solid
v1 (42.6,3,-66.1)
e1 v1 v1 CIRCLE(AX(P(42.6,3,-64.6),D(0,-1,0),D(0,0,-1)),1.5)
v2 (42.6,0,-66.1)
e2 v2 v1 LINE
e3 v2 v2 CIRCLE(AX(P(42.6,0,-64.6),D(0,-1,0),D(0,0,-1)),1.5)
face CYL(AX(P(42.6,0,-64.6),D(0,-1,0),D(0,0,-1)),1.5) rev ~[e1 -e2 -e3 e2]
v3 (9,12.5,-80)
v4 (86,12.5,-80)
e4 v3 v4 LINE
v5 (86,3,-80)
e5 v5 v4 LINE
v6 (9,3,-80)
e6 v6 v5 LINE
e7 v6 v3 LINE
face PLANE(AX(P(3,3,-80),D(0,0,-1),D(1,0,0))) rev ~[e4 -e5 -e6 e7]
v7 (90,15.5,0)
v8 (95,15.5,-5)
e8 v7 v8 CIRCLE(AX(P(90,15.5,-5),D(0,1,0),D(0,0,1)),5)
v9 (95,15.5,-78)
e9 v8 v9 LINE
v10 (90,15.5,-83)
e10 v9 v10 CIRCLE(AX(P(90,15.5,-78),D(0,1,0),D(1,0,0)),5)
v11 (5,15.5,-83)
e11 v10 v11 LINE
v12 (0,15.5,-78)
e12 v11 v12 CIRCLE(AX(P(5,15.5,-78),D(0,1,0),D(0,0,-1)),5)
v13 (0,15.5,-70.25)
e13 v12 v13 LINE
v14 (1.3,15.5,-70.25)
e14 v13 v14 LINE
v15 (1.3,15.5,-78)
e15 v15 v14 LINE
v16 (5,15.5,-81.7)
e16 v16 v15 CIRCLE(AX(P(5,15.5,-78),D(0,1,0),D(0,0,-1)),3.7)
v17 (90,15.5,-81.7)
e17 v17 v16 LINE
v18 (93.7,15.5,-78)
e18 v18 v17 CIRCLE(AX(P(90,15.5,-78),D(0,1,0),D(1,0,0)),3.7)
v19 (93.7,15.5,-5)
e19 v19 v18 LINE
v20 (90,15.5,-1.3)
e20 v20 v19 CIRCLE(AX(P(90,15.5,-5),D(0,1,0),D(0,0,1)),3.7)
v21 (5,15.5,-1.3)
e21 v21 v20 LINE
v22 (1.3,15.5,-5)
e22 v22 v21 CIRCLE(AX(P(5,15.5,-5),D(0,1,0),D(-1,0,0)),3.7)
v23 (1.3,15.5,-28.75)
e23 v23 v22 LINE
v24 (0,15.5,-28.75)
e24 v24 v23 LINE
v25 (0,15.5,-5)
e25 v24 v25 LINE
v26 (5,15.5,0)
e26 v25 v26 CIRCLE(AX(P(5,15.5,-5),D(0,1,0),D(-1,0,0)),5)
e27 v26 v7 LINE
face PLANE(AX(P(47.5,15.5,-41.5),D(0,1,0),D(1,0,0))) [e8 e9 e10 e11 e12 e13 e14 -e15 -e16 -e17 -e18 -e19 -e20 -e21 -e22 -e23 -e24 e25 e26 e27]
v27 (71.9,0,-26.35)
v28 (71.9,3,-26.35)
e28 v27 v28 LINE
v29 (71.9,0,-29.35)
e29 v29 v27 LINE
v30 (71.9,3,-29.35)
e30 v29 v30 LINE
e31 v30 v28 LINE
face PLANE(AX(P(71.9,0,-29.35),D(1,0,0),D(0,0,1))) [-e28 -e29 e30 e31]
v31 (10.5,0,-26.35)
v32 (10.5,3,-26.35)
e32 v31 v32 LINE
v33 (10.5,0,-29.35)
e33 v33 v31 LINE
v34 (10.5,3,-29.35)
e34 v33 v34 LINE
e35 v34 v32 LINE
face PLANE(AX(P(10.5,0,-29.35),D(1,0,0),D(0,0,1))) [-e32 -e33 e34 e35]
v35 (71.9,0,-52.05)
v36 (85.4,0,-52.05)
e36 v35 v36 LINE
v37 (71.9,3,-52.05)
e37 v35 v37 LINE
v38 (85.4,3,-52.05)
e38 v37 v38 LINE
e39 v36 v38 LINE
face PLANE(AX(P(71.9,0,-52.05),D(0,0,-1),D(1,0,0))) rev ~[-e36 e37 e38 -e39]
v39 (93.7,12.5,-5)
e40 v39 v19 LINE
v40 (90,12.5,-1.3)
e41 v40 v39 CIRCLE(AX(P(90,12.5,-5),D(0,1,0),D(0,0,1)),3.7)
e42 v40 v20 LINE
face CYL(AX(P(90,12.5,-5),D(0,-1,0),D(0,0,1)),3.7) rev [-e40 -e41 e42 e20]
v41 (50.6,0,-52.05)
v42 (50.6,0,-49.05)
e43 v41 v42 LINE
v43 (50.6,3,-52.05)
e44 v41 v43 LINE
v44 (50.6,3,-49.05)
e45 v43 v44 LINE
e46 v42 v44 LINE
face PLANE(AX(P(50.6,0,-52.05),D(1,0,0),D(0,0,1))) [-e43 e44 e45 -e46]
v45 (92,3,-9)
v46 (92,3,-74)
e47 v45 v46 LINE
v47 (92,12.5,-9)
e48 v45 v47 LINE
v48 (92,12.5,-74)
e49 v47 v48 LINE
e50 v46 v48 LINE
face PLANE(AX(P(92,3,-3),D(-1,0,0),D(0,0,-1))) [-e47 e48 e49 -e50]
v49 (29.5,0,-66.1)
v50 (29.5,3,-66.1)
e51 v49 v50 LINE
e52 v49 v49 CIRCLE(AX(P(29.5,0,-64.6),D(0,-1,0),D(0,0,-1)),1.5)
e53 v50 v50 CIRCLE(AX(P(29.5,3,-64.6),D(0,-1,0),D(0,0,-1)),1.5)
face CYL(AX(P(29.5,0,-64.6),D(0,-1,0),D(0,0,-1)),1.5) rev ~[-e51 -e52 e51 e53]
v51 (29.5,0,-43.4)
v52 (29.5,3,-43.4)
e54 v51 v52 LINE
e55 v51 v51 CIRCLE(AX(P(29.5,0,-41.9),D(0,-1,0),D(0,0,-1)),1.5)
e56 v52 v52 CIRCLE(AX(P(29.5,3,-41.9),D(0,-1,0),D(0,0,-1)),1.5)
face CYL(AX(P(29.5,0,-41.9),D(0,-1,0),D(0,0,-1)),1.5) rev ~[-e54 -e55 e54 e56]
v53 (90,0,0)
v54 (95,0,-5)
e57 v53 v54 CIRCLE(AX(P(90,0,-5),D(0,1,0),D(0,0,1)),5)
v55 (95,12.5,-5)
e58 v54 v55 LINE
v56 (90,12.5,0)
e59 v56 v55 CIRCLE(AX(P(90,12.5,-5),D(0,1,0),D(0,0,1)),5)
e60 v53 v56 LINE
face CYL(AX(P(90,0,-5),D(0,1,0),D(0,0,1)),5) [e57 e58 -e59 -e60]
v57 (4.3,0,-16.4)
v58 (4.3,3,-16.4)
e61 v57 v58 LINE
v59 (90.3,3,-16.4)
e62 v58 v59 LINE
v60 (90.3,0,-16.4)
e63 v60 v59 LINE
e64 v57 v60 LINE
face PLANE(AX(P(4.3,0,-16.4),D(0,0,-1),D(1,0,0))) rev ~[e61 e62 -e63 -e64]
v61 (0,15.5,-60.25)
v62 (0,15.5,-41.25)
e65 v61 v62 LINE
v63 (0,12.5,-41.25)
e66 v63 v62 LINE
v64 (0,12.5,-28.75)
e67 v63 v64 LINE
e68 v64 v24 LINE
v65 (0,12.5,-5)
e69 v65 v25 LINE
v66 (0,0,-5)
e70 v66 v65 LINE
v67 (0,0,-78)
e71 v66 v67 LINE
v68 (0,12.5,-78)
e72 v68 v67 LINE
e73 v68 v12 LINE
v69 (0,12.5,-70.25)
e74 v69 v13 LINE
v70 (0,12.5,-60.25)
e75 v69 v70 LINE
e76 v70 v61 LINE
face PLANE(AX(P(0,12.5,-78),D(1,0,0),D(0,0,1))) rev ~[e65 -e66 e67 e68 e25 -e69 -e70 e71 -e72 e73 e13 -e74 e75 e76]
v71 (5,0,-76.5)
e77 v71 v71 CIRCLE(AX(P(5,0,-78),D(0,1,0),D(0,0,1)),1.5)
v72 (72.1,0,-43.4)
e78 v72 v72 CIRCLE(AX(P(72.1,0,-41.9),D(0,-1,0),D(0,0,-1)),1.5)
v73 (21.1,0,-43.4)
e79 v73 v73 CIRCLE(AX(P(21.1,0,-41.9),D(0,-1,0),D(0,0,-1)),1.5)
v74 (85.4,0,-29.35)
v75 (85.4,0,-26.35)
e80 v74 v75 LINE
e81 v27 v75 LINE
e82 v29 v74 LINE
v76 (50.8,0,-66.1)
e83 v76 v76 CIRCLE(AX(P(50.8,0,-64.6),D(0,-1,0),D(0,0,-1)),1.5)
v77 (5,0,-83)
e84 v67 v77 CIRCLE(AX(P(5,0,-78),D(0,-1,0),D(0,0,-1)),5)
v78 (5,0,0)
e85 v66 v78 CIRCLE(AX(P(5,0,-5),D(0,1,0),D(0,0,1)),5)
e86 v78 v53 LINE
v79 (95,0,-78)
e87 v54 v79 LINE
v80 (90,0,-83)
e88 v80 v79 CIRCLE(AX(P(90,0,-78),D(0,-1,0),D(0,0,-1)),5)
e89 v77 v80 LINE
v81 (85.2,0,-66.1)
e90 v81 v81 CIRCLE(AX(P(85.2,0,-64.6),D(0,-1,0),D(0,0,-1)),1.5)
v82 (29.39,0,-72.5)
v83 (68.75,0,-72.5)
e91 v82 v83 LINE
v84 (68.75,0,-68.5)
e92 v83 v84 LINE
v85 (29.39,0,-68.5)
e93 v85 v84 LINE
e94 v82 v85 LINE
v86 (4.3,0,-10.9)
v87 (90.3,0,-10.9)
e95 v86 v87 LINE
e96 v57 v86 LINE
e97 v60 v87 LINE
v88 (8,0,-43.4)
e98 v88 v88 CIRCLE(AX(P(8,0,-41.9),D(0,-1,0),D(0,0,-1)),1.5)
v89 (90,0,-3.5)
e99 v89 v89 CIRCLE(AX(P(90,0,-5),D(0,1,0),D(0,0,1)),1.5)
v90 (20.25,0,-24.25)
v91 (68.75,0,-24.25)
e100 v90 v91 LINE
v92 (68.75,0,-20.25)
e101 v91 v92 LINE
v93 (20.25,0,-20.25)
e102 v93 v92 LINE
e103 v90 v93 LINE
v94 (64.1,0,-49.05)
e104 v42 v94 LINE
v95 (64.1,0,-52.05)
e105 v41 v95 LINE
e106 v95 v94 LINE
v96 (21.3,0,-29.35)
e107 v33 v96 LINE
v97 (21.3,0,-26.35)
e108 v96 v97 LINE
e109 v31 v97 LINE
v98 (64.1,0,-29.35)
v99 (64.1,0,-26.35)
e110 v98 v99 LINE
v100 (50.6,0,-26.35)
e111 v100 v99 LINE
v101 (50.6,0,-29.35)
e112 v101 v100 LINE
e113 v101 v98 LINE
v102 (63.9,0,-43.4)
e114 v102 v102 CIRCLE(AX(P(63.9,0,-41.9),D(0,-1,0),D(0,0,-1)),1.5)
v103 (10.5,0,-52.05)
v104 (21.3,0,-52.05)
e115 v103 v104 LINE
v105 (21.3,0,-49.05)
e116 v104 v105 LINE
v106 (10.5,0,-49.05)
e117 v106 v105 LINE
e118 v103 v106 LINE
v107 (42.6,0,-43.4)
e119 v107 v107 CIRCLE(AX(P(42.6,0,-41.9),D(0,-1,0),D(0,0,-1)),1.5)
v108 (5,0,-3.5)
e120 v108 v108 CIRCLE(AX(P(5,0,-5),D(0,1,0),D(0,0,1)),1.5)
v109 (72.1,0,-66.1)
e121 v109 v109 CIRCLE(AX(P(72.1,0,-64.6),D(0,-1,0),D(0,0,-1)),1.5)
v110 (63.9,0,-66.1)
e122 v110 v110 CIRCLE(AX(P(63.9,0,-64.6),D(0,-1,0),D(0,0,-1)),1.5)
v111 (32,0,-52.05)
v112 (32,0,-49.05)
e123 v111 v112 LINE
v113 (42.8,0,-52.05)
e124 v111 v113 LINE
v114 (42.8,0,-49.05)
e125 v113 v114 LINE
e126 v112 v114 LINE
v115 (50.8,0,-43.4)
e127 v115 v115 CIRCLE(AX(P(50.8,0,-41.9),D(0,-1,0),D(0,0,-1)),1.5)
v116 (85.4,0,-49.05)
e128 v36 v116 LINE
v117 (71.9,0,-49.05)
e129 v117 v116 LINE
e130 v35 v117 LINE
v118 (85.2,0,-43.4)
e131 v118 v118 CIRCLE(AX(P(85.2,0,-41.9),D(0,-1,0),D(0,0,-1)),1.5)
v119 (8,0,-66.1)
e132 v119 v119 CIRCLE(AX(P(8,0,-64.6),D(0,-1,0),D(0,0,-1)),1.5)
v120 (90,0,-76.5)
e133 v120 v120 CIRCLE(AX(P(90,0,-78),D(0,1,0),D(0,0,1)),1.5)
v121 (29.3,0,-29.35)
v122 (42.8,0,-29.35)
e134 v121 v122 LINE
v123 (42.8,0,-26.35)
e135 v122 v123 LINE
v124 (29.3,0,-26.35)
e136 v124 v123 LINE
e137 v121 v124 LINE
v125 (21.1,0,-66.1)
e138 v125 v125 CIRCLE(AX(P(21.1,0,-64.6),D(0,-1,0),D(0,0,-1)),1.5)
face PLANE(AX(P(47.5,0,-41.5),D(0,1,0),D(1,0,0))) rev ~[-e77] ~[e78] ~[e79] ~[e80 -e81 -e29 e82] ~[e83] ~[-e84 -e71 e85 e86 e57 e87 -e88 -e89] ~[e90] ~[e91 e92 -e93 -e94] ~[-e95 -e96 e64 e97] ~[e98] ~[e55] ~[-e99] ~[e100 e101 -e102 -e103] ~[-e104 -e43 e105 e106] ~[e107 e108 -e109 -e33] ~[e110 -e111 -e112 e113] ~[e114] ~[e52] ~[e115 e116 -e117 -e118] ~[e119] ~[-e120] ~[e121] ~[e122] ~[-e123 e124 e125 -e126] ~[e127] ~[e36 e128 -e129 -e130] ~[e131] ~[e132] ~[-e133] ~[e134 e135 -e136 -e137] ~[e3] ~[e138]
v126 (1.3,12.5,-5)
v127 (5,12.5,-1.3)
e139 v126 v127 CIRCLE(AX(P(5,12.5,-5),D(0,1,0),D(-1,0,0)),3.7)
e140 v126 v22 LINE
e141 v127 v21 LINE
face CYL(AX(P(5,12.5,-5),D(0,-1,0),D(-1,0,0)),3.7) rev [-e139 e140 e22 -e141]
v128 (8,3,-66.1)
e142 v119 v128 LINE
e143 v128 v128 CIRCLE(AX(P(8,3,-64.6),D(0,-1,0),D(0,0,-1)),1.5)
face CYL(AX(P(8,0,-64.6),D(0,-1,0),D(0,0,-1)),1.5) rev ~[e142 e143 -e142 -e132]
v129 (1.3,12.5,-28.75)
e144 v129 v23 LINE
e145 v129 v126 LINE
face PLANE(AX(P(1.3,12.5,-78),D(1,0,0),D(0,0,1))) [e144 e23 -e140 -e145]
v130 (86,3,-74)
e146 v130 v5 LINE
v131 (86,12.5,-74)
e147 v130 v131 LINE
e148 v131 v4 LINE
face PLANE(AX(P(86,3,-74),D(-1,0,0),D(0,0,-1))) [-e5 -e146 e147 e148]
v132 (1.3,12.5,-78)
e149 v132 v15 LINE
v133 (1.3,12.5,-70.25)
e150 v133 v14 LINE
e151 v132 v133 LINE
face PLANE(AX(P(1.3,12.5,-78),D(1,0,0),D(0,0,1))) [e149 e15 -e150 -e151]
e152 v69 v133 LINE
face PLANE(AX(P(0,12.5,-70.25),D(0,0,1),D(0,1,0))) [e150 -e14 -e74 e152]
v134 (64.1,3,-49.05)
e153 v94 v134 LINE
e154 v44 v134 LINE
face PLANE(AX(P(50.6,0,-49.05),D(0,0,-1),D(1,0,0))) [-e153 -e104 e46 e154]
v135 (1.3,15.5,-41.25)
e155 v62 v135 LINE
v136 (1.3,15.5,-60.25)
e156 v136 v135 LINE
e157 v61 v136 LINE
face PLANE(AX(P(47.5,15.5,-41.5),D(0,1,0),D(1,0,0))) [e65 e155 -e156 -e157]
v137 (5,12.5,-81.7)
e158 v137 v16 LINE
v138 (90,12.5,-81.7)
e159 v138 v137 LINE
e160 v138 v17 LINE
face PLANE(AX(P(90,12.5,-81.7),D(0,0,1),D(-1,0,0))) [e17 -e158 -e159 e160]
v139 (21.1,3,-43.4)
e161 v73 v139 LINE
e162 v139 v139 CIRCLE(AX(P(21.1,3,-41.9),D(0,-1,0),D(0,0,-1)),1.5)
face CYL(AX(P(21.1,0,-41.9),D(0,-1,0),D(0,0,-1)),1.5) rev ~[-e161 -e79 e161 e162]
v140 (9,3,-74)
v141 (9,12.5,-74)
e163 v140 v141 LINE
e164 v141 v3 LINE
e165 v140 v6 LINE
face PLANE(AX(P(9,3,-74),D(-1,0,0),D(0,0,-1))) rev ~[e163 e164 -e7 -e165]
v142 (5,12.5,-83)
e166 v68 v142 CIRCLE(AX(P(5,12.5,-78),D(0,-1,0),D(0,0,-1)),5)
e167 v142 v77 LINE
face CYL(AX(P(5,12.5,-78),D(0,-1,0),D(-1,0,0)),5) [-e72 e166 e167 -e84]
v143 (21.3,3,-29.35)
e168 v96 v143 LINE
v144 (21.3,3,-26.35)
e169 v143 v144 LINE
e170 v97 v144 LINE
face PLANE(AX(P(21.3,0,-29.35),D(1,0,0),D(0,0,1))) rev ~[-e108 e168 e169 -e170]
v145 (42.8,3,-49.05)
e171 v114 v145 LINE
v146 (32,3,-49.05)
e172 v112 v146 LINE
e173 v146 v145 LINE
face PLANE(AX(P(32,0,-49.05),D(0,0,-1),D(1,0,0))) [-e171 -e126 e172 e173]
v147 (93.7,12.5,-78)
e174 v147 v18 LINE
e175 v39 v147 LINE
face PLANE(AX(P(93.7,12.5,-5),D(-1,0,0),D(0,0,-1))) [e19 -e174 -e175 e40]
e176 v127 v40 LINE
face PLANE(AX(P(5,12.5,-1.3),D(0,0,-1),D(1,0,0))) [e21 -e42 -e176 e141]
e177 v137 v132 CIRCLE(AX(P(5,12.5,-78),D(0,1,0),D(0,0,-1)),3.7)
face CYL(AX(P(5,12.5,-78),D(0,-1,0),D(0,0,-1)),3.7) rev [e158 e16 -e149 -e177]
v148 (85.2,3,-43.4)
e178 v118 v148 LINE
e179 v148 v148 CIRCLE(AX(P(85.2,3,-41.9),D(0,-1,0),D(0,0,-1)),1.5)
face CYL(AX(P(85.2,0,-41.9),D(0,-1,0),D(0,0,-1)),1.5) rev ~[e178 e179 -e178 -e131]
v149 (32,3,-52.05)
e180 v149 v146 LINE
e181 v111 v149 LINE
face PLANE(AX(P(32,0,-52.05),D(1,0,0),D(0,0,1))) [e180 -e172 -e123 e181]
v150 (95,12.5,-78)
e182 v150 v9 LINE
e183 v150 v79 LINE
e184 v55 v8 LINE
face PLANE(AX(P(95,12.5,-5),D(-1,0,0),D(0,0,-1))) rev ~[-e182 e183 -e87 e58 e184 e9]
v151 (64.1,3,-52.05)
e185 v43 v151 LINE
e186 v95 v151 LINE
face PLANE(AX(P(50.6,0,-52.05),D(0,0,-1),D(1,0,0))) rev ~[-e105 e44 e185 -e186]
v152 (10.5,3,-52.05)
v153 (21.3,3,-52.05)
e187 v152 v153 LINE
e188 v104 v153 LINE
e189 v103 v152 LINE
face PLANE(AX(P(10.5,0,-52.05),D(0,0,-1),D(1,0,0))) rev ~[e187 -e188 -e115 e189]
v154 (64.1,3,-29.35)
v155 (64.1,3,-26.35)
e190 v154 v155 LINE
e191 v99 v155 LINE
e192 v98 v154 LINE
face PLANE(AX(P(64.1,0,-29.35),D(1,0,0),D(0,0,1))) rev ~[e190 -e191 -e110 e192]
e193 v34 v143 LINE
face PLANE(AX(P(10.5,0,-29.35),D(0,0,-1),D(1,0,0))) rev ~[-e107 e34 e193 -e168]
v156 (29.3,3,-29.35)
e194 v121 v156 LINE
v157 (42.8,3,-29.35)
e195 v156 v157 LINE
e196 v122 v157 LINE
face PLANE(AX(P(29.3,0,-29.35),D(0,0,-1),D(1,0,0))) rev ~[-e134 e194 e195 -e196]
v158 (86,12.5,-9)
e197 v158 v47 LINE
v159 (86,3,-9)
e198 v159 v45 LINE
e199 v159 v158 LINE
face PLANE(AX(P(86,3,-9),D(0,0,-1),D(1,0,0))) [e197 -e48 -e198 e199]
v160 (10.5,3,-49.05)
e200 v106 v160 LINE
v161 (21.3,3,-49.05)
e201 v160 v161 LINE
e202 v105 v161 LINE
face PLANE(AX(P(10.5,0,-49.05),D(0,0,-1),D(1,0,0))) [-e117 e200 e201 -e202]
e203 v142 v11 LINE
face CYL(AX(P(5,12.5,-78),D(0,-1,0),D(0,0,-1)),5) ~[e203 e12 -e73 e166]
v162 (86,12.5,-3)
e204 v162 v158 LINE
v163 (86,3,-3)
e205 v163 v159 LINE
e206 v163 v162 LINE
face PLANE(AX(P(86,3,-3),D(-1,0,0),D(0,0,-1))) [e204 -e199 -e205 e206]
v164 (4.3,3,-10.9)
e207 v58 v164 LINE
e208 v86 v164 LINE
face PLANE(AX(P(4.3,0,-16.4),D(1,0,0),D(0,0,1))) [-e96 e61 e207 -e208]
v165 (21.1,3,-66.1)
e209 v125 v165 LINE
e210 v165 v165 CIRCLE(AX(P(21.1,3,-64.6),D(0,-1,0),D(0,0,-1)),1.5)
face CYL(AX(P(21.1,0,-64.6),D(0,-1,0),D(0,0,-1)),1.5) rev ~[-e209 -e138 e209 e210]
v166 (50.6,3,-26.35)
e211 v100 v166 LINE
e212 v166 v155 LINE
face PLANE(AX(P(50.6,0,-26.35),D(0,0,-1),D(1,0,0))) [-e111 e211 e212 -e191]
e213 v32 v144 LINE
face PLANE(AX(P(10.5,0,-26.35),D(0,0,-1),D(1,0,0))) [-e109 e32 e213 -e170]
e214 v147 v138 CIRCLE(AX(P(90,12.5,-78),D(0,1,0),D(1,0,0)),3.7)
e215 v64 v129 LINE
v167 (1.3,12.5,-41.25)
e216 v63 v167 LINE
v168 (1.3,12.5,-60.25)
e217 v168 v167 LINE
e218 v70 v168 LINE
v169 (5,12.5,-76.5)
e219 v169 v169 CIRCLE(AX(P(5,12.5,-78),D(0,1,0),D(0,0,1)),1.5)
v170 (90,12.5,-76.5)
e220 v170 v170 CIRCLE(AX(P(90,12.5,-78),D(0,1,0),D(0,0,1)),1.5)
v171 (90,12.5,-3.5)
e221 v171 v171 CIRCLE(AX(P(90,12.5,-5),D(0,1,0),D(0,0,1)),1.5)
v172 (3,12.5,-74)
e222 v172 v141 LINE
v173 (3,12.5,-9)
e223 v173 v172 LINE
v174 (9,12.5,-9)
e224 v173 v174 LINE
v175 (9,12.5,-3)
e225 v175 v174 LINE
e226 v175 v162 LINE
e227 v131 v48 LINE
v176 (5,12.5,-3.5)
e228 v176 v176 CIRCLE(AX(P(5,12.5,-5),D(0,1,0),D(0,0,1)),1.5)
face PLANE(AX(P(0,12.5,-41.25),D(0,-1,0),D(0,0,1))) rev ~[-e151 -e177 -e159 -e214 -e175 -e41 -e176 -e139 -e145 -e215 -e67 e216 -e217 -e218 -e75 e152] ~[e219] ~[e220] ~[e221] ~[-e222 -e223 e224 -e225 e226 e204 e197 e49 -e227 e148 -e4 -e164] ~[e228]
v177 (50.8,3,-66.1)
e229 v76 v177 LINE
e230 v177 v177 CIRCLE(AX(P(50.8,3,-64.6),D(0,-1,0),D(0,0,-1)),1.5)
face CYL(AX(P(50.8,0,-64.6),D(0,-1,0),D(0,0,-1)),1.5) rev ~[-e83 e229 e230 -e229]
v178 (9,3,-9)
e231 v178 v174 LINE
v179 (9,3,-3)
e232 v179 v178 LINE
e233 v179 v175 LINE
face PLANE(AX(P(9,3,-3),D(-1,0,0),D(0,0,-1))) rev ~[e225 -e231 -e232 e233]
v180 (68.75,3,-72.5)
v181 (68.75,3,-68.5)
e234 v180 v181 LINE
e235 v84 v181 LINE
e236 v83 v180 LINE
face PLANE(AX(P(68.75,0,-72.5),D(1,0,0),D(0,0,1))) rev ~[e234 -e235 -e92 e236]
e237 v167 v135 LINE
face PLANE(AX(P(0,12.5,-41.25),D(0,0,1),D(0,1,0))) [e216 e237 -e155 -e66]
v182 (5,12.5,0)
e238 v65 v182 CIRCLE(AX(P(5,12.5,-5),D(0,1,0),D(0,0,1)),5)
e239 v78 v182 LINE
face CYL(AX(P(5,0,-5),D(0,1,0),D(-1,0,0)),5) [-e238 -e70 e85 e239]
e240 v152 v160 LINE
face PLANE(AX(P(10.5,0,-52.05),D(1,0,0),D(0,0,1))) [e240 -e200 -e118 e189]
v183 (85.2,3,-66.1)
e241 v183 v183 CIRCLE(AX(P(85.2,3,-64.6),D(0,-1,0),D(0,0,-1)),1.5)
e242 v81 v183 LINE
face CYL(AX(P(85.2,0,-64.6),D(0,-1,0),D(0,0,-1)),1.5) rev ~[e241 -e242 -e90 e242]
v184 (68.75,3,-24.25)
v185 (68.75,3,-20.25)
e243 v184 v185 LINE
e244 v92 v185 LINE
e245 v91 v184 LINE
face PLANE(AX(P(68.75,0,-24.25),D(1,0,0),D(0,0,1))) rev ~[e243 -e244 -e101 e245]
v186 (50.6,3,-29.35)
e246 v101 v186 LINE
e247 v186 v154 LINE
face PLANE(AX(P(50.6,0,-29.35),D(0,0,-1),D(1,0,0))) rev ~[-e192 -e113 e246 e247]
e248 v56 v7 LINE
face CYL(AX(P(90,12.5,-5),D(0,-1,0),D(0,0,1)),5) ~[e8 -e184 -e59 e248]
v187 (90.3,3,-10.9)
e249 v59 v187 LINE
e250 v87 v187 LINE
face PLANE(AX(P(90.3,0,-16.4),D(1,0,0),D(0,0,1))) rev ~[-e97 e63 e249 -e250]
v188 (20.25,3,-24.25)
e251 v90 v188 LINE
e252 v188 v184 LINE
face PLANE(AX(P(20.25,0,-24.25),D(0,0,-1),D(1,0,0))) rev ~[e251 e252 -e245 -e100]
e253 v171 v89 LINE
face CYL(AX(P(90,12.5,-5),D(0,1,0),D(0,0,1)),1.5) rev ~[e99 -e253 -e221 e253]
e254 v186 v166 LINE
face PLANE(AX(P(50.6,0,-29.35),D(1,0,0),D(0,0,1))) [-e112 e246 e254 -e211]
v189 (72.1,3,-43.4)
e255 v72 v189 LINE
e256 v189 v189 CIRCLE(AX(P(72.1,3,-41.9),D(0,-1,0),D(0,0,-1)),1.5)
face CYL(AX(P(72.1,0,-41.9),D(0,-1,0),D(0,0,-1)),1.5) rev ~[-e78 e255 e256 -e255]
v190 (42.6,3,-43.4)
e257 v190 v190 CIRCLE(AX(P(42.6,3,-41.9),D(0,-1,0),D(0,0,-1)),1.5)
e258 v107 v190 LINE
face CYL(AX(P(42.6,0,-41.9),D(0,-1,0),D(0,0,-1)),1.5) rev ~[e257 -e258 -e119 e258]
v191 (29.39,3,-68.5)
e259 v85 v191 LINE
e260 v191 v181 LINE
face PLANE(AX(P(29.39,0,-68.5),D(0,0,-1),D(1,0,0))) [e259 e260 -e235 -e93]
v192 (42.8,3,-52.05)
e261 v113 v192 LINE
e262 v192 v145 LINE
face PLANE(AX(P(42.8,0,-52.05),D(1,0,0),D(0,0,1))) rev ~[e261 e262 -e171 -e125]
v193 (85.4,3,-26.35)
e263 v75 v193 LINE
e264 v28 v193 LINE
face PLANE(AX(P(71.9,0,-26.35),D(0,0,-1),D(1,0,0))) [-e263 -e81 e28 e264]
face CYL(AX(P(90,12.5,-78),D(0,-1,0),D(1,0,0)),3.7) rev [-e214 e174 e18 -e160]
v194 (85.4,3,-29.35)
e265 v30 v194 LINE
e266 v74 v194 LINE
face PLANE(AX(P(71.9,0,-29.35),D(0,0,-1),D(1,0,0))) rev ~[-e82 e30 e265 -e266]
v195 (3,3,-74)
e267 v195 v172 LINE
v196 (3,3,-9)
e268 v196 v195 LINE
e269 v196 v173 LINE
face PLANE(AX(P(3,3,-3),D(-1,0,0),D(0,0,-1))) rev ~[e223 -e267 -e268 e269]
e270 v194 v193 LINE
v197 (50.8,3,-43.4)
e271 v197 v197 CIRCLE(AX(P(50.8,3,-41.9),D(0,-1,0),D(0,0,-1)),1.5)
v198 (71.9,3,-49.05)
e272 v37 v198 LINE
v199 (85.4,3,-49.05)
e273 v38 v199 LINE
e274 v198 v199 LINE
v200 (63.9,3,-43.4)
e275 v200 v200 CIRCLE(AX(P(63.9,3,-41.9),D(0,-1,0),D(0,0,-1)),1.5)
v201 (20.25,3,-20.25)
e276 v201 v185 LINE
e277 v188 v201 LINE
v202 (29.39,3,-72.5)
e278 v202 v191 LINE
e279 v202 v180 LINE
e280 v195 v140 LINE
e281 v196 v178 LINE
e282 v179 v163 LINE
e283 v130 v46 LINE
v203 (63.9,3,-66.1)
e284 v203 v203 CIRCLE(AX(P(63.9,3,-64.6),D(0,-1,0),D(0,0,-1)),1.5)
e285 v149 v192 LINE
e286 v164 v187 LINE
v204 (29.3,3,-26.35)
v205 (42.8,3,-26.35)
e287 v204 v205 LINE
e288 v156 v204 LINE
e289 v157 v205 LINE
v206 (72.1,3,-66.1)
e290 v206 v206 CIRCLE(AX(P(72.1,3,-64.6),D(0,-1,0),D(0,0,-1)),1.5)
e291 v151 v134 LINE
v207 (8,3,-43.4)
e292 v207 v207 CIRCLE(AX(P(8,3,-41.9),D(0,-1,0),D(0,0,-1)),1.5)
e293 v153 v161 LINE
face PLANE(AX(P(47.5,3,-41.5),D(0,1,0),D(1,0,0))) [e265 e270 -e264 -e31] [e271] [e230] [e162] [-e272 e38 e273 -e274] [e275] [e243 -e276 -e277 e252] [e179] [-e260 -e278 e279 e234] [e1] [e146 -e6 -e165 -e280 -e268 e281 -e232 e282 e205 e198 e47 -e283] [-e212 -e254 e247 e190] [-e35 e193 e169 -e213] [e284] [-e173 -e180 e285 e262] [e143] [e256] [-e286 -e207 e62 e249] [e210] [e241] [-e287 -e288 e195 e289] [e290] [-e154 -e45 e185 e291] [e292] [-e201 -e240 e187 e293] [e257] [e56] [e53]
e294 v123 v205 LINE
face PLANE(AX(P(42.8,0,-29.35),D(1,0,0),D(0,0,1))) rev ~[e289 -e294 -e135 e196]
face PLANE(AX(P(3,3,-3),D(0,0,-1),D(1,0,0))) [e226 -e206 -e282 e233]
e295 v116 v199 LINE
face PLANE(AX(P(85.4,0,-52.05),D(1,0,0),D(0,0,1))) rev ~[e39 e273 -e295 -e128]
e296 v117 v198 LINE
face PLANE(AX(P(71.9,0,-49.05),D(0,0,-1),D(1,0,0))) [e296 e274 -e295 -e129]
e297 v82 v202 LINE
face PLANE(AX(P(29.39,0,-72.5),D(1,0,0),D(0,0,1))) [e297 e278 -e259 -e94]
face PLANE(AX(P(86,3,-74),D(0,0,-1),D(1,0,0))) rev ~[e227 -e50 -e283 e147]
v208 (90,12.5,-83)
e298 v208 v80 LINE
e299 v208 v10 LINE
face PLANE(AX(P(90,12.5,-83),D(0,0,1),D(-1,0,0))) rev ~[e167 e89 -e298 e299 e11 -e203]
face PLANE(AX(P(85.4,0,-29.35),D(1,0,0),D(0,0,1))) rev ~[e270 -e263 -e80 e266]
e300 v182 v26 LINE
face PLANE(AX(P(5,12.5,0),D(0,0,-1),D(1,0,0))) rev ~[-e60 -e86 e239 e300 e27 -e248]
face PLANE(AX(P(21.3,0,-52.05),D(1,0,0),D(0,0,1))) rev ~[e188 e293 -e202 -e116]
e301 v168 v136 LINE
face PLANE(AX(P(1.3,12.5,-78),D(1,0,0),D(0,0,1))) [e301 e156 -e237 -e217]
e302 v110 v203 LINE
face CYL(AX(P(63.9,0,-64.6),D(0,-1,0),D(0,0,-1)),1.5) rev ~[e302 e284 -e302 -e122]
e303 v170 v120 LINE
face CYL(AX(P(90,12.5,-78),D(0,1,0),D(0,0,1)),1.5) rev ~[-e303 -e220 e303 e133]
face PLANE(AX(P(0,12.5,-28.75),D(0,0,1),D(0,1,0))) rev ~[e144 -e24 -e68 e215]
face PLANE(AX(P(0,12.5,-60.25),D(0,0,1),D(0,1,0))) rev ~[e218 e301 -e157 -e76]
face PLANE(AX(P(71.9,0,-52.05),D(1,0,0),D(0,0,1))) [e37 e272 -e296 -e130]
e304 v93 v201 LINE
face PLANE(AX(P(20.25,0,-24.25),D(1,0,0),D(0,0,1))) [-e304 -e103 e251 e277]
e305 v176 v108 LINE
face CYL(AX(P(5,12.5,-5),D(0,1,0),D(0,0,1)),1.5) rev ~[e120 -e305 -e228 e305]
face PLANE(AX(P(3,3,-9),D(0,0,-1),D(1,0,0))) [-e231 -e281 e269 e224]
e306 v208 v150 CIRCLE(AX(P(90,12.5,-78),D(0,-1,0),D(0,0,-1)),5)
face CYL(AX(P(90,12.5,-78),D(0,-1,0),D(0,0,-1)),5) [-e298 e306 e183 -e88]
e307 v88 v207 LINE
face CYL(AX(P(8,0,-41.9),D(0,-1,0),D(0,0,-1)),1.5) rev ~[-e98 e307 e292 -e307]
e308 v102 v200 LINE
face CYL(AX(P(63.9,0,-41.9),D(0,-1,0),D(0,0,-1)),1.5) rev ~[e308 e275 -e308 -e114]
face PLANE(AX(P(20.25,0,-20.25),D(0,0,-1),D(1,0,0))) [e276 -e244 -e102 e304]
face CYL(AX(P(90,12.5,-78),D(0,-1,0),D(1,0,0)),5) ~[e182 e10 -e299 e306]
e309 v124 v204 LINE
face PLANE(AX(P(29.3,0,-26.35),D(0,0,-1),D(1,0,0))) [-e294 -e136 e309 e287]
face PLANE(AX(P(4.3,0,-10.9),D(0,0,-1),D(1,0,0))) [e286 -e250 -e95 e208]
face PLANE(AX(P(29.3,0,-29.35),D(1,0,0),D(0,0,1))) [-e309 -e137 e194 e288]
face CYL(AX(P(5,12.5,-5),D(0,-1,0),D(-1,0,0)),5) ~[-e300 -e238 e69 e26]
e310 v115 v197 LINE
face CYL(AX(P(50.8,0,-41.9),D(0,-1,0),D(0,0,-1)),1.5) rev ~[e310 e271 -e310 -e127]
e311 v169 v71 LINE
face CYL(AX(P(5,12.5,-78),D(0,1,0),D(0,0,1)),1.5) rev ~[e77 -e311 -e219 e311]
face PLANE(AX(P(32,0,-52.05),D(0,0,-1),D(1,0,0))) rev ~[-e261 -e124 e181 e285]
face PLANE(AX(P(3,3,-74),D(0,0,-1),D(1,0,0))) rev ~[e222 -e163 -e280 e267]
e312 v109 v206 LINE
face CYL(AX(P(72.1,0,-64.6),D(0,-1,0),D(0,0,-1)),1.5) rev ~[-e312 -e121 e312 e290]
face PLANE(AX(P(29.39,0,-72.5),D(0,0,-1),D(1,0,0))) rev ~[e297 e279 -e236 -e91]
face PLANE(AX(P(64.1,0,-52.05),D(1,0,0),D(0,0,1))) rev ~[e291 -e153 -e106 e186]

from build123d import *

# Parameters (mm, degrees)
SKETCH1_W           = 95
SKETCH1_H           = 83
BOSS_EXTRUDE1_DEPTH = 3
SKETCH3_W           = 95
SKETCH3_H           = 83
SKETCH3_W_2         = 89
SKETCH3_H_2         = 77
BOSS_EXTRUDE2_DEPTH = 9.5
SKETCH4_W           = 6
SKETCH4_H           = 6
BOSS_EXTRUDE3_DEPTH = 9.5
FILLET1_R           = 5
SKETCH5_R           = 1.5
CUT_EXTRUDE1_DEPTH  = 12.5
BOSS_EXTRUDE4_DEPTH = 3
SKETCH7_W           = 12.5
SKETCH7_H           = 3
SKETCH7_W_2         = 10
CUT_EXTRUDE2_DEPTH  = 1.3
SKETCH8_W           = 86
SKETCH8_H           = 5.5
SKETCH8_W_2         = 48.5
SKETCH8_H_2         = 4
SKETCH8_W_3         = 39.36
CUT_EXTRUDE3_DEPTH  = 3
SKETCH10_W          = 10.8
SKETCH10_H          = 3
SKETCH10_W_2        = 13.5
CUT_EXTRUDE4_DEPTH  = 3
SKETCH11_R          = 1.5
CUT_EXTRUDE5_DEPTH  = 3


with BuildPart() as part:
    # Sketch1 → Boss-Extrude1 (new body)
    with BuildSketch(Plane(origin=(0, 0, 0), x_dir=(1, 0, 0), z_dir=(0, 1, 0))):
        with Locations((47.5, 41.5)):
            Rectangle(SKETCH1_W, SKETCH1_H)
    extrude(amount=BOSS_EXTRUDE1_DEPTH)

    # Sketch3 → Boss-Extrude2 (add)
    with BuildSketch(Plane(origin=(0, 3, 0), x_dir=(1, 0, 0), z_dir=(0, 1, 0))):
        with Locations((47.5, 41.5)):
            Rectangle(SKETCH3_W, SKETCH3_H)
        with Locations((47.5, 41.5)):
            Rectangle(SKETCH3_W_2, SKETCH3_H_2, mode=Mode.SUBTRACT)
    extrude(amount=BOSS_EXTRUDE2_DEPTH)

    # Sketch4 → Boss-Extrude3 (add)
    with BuildSketch(Plane(origin=(0, 3, 0), x_dir=(1, 0, 0), z_dir=(0, 1, 0))):
        with Locations((6, 77)):
            Rectangle(SKETCH4_W, SKETCH4_H)
        with Locations((6, 6)):
            Rectangle(SKETCH4_W, SKETCH4_H)
        with Locations((89, 6)):
            Rectangle(SKETCH4_W, SKETCH4_H)
        with Locations((89, 77)):
            Rectangle(SKETCH4_W, SKETCH4_H)
    extrude(amount=BOSS_EXTRUDE3_DEPTH)

    # Fillet1
    fillet1_edges = [part.edges().sort_by_distance(p)[0] for p in [
        (0, 6.25, -83),
        (95, 6.25, -83),
        (95, 6.25, 0),
        (0, 6.25, 0),
    ]]
    fillet(fillet1_edges, radius=FILLET1_R)

    # Sketch5 → Cut-Extrude1 (cut)
    with BuildSketch(Plane(origin=(0, 12.5, 0), x_dir=(1, 0, 0), z_dir=(0, 1, 0))):
        with Locations(Location((5, 78, 0), (0, 0, 270))):
            Circle(SKETCH5_R)
        with Locations(Location((90, 78, 0), (0, 0, 270))):
            Circle(SKETCH5_R)
        with Locations(Location((90, 5, 0), (0, 0, 270))):
            Circle(SKETCH5_R)
        with Locations(Location((5, 5, 0), (0, 0, 270))):
            Circle(SKETCH5_R)
    extrude(amount=-CUT_EXTRUDE1_DEPTH, mode=Mode.SUBTRACT)

    # Sketch6 → Boss-Extrude4 (add)
    with BuildSketch(Plane(origin=(0, 12.5, 0), x_dir=(1, 0, 0), z_dir=(0, 1, 0))):
        with BuildLine():
            Line((5, 0), (90, 0))
            ThreePointArc((90, 0), (93.535533906, 1.464466094), (95, 5))
            Line((95, 5), (95, 78))
            ThreePointArc((95, 78), (93.535533906, 81.535533906), (90, 83))
            Line((90, 83), (5, 83))
            ThreePointArc((5, 83), (1.464466094, 81.535533906), (0, 78))
            Line((0, 78), (0, 5))
            ThreePointArc((0, 5), (1.464466094, 1.464466094), (5, 0))
        make_face()
        with BuildLine():
            Line((5, 1.3), (90, 1.3))
            ThreePointArc((90, 1.3), (92.61629509, 2.38370491), (93.7, 5))
            Line((93.7, 5), (93.7, 78))
            ThreePointArc((93.7, 78), (92.61629509, 80.61629509), (90, 81.7))
            Line((90, 81.7), (5, 81.7))
            ThreePointArc((5, 81.7), (2.38370491, 80.61629509), (1.3, 78))
            Line((1.3, 78), (1.3, 5))
            ThreePointArc((1.3, 5), (2.38370491, 2.38370491), (5, 1.3))
        make_face(mode=Mode.SUBTRACT)
    extrude(amount=BOSS_EXTRUDE4_DEPTH)

    # Sketch7 → Cut-Extrude2 (cut)
    with BuildSketch(Plane.ZY):
        with Locations((-35, 14)):
            Rectangle(SKETCH7_W, SKETCH7_H)
        with Locations((-65.25, 14)):
            Rectangle(SKETCH7_W_2, SKETCH7_H)
    extrude(amount=-CUT_EXTRUDE2_DEPTH, mode=Mode.SUBTRACT)

    # Sketch8 → Cut-Extrude3 (cut)
    with BuildSketch(Plane.XZ):
        with Locations((47.3, -13.65)):
            Rectangle(SKETCH8_W, SKETCH8_H)
        with Locations((44.5, -22.25)):
            Rectangle(SKETCH8_W_2, SKETCH8_H_2)
        with Locations((49.07, -70.5)):
            Rectangle(SKETCH8_W_3, SKETCH8_H_2)
    extrude(amount=-CUT_EXTRUDE3_DEPTH, mode=Mode.SUBTRACT)

    # Sketch10 → Cut-Extrude4 (cut)
    with BuildSketch(Plane.XZ):
        with Locations((15.9, -27.85)):
            Rectangle(SKETCH10_W, SKETCH10_H)
        with Locations((36.05, -27.85)):
            Rectangle(SKETCH10_W_2, SKETCH10_H)
        with Locations((57.35, -27.85)):
            Rectangle(SKETCH10_W_2, SKETCH10_H)
        with Locations((78.65, -27.85)):
            Rectangle(SKETCH10_W_2, SKETCH10_H)
        with Locations((15.9, -50.55)):
            Rectangle(SKETCH10_W, SKETCH10_H)
        with Locations((37.4, -50.55)):
            Rectangle(SKETCH10_W, SKETCH10_H)
        with Locations((57.35, -50.55)):
            Rectangle(SKETCH10_W_2, SKETCH10_H)
        with Locations((78.65, -50.55)):
            Rectangle(SKETCH10_W_2, SKETCH10_H)
    extrude(amount=-CUT_EXTRUDE4_DEPTH, mode=Mode.SUBTRACT)

    # Sketch11 → Cut-Extrude5 (cut)
    with BuildSketch(Plane.XZ):
        with Locations(Location((8, -41.9, 0), (0, 0, 270))):
            Circle(SKETCH11_R)
        with Locations(Location((21.1, -41.9, 0), (0, 0, 270))):
            Circle(SKETCH11_R)
        with Locations(Location((29.5, -41.9, 0), (0, 0, 270))):
            Circle(SKETCH11_R)
        with Locations(Location((42.6, -41.9, 0), (0, 0, 270))):
            Circle(SKETCH11_R)
        with Locations(Location((50.8, -41.9, 0), (0, 0, 270))):
            Circle(SKETCH11_R)
        with Locations(Location((63.9, -41.9, 0), (0, 0, 270))):
            Circle(SKETCH11_R)
        with Locations(Location((72.1, -41.9, 0), (0, 0, 270))):
            Circle(SKETCH11_R)
        with Locations(Location((85.2, -41.9, 0), (0, 0, 270))):
            Circle(SKETCH11_R)
        with Locations(Location((85.2, -64.6, 0), (0, 0, 270))):
            Circle(SKETCH11_R)
        with Locations(Location((72.1, -64.6, 0), (0, 0, 270))):
            Circle(SKETCH11_R)
        with Locations(Location((63.9, -64.6, 0), (0, 0, 270))):
            Circle(SKETCH11_R)
        with Locations(Location((50.8, -64.6, 0), (0, 0, 270))):
            Circle(SKETCH11_R)
        with Locations(Location((42.6, -64.6, 0), (0, 0, 270))):
            Circle(SKETCH11_R)
        with Locations(Location((29.5, -64.6, 0), (0, 0, 270))):
            Circle(SKETCH11_R)
        with Locations(Location((21.1, -64.6, 0), (0, 0, 270))):
            Circle(SKETCH11_R)
        with Locations(Location((8, -64.6, 0), (0, 0, 270))):
            Circle(SKETCH11_R)
    extrude(amount=-CUT_EXTRUDE5_DEPTH, mode=Mode.SUBTRACT)


solid = part.part
